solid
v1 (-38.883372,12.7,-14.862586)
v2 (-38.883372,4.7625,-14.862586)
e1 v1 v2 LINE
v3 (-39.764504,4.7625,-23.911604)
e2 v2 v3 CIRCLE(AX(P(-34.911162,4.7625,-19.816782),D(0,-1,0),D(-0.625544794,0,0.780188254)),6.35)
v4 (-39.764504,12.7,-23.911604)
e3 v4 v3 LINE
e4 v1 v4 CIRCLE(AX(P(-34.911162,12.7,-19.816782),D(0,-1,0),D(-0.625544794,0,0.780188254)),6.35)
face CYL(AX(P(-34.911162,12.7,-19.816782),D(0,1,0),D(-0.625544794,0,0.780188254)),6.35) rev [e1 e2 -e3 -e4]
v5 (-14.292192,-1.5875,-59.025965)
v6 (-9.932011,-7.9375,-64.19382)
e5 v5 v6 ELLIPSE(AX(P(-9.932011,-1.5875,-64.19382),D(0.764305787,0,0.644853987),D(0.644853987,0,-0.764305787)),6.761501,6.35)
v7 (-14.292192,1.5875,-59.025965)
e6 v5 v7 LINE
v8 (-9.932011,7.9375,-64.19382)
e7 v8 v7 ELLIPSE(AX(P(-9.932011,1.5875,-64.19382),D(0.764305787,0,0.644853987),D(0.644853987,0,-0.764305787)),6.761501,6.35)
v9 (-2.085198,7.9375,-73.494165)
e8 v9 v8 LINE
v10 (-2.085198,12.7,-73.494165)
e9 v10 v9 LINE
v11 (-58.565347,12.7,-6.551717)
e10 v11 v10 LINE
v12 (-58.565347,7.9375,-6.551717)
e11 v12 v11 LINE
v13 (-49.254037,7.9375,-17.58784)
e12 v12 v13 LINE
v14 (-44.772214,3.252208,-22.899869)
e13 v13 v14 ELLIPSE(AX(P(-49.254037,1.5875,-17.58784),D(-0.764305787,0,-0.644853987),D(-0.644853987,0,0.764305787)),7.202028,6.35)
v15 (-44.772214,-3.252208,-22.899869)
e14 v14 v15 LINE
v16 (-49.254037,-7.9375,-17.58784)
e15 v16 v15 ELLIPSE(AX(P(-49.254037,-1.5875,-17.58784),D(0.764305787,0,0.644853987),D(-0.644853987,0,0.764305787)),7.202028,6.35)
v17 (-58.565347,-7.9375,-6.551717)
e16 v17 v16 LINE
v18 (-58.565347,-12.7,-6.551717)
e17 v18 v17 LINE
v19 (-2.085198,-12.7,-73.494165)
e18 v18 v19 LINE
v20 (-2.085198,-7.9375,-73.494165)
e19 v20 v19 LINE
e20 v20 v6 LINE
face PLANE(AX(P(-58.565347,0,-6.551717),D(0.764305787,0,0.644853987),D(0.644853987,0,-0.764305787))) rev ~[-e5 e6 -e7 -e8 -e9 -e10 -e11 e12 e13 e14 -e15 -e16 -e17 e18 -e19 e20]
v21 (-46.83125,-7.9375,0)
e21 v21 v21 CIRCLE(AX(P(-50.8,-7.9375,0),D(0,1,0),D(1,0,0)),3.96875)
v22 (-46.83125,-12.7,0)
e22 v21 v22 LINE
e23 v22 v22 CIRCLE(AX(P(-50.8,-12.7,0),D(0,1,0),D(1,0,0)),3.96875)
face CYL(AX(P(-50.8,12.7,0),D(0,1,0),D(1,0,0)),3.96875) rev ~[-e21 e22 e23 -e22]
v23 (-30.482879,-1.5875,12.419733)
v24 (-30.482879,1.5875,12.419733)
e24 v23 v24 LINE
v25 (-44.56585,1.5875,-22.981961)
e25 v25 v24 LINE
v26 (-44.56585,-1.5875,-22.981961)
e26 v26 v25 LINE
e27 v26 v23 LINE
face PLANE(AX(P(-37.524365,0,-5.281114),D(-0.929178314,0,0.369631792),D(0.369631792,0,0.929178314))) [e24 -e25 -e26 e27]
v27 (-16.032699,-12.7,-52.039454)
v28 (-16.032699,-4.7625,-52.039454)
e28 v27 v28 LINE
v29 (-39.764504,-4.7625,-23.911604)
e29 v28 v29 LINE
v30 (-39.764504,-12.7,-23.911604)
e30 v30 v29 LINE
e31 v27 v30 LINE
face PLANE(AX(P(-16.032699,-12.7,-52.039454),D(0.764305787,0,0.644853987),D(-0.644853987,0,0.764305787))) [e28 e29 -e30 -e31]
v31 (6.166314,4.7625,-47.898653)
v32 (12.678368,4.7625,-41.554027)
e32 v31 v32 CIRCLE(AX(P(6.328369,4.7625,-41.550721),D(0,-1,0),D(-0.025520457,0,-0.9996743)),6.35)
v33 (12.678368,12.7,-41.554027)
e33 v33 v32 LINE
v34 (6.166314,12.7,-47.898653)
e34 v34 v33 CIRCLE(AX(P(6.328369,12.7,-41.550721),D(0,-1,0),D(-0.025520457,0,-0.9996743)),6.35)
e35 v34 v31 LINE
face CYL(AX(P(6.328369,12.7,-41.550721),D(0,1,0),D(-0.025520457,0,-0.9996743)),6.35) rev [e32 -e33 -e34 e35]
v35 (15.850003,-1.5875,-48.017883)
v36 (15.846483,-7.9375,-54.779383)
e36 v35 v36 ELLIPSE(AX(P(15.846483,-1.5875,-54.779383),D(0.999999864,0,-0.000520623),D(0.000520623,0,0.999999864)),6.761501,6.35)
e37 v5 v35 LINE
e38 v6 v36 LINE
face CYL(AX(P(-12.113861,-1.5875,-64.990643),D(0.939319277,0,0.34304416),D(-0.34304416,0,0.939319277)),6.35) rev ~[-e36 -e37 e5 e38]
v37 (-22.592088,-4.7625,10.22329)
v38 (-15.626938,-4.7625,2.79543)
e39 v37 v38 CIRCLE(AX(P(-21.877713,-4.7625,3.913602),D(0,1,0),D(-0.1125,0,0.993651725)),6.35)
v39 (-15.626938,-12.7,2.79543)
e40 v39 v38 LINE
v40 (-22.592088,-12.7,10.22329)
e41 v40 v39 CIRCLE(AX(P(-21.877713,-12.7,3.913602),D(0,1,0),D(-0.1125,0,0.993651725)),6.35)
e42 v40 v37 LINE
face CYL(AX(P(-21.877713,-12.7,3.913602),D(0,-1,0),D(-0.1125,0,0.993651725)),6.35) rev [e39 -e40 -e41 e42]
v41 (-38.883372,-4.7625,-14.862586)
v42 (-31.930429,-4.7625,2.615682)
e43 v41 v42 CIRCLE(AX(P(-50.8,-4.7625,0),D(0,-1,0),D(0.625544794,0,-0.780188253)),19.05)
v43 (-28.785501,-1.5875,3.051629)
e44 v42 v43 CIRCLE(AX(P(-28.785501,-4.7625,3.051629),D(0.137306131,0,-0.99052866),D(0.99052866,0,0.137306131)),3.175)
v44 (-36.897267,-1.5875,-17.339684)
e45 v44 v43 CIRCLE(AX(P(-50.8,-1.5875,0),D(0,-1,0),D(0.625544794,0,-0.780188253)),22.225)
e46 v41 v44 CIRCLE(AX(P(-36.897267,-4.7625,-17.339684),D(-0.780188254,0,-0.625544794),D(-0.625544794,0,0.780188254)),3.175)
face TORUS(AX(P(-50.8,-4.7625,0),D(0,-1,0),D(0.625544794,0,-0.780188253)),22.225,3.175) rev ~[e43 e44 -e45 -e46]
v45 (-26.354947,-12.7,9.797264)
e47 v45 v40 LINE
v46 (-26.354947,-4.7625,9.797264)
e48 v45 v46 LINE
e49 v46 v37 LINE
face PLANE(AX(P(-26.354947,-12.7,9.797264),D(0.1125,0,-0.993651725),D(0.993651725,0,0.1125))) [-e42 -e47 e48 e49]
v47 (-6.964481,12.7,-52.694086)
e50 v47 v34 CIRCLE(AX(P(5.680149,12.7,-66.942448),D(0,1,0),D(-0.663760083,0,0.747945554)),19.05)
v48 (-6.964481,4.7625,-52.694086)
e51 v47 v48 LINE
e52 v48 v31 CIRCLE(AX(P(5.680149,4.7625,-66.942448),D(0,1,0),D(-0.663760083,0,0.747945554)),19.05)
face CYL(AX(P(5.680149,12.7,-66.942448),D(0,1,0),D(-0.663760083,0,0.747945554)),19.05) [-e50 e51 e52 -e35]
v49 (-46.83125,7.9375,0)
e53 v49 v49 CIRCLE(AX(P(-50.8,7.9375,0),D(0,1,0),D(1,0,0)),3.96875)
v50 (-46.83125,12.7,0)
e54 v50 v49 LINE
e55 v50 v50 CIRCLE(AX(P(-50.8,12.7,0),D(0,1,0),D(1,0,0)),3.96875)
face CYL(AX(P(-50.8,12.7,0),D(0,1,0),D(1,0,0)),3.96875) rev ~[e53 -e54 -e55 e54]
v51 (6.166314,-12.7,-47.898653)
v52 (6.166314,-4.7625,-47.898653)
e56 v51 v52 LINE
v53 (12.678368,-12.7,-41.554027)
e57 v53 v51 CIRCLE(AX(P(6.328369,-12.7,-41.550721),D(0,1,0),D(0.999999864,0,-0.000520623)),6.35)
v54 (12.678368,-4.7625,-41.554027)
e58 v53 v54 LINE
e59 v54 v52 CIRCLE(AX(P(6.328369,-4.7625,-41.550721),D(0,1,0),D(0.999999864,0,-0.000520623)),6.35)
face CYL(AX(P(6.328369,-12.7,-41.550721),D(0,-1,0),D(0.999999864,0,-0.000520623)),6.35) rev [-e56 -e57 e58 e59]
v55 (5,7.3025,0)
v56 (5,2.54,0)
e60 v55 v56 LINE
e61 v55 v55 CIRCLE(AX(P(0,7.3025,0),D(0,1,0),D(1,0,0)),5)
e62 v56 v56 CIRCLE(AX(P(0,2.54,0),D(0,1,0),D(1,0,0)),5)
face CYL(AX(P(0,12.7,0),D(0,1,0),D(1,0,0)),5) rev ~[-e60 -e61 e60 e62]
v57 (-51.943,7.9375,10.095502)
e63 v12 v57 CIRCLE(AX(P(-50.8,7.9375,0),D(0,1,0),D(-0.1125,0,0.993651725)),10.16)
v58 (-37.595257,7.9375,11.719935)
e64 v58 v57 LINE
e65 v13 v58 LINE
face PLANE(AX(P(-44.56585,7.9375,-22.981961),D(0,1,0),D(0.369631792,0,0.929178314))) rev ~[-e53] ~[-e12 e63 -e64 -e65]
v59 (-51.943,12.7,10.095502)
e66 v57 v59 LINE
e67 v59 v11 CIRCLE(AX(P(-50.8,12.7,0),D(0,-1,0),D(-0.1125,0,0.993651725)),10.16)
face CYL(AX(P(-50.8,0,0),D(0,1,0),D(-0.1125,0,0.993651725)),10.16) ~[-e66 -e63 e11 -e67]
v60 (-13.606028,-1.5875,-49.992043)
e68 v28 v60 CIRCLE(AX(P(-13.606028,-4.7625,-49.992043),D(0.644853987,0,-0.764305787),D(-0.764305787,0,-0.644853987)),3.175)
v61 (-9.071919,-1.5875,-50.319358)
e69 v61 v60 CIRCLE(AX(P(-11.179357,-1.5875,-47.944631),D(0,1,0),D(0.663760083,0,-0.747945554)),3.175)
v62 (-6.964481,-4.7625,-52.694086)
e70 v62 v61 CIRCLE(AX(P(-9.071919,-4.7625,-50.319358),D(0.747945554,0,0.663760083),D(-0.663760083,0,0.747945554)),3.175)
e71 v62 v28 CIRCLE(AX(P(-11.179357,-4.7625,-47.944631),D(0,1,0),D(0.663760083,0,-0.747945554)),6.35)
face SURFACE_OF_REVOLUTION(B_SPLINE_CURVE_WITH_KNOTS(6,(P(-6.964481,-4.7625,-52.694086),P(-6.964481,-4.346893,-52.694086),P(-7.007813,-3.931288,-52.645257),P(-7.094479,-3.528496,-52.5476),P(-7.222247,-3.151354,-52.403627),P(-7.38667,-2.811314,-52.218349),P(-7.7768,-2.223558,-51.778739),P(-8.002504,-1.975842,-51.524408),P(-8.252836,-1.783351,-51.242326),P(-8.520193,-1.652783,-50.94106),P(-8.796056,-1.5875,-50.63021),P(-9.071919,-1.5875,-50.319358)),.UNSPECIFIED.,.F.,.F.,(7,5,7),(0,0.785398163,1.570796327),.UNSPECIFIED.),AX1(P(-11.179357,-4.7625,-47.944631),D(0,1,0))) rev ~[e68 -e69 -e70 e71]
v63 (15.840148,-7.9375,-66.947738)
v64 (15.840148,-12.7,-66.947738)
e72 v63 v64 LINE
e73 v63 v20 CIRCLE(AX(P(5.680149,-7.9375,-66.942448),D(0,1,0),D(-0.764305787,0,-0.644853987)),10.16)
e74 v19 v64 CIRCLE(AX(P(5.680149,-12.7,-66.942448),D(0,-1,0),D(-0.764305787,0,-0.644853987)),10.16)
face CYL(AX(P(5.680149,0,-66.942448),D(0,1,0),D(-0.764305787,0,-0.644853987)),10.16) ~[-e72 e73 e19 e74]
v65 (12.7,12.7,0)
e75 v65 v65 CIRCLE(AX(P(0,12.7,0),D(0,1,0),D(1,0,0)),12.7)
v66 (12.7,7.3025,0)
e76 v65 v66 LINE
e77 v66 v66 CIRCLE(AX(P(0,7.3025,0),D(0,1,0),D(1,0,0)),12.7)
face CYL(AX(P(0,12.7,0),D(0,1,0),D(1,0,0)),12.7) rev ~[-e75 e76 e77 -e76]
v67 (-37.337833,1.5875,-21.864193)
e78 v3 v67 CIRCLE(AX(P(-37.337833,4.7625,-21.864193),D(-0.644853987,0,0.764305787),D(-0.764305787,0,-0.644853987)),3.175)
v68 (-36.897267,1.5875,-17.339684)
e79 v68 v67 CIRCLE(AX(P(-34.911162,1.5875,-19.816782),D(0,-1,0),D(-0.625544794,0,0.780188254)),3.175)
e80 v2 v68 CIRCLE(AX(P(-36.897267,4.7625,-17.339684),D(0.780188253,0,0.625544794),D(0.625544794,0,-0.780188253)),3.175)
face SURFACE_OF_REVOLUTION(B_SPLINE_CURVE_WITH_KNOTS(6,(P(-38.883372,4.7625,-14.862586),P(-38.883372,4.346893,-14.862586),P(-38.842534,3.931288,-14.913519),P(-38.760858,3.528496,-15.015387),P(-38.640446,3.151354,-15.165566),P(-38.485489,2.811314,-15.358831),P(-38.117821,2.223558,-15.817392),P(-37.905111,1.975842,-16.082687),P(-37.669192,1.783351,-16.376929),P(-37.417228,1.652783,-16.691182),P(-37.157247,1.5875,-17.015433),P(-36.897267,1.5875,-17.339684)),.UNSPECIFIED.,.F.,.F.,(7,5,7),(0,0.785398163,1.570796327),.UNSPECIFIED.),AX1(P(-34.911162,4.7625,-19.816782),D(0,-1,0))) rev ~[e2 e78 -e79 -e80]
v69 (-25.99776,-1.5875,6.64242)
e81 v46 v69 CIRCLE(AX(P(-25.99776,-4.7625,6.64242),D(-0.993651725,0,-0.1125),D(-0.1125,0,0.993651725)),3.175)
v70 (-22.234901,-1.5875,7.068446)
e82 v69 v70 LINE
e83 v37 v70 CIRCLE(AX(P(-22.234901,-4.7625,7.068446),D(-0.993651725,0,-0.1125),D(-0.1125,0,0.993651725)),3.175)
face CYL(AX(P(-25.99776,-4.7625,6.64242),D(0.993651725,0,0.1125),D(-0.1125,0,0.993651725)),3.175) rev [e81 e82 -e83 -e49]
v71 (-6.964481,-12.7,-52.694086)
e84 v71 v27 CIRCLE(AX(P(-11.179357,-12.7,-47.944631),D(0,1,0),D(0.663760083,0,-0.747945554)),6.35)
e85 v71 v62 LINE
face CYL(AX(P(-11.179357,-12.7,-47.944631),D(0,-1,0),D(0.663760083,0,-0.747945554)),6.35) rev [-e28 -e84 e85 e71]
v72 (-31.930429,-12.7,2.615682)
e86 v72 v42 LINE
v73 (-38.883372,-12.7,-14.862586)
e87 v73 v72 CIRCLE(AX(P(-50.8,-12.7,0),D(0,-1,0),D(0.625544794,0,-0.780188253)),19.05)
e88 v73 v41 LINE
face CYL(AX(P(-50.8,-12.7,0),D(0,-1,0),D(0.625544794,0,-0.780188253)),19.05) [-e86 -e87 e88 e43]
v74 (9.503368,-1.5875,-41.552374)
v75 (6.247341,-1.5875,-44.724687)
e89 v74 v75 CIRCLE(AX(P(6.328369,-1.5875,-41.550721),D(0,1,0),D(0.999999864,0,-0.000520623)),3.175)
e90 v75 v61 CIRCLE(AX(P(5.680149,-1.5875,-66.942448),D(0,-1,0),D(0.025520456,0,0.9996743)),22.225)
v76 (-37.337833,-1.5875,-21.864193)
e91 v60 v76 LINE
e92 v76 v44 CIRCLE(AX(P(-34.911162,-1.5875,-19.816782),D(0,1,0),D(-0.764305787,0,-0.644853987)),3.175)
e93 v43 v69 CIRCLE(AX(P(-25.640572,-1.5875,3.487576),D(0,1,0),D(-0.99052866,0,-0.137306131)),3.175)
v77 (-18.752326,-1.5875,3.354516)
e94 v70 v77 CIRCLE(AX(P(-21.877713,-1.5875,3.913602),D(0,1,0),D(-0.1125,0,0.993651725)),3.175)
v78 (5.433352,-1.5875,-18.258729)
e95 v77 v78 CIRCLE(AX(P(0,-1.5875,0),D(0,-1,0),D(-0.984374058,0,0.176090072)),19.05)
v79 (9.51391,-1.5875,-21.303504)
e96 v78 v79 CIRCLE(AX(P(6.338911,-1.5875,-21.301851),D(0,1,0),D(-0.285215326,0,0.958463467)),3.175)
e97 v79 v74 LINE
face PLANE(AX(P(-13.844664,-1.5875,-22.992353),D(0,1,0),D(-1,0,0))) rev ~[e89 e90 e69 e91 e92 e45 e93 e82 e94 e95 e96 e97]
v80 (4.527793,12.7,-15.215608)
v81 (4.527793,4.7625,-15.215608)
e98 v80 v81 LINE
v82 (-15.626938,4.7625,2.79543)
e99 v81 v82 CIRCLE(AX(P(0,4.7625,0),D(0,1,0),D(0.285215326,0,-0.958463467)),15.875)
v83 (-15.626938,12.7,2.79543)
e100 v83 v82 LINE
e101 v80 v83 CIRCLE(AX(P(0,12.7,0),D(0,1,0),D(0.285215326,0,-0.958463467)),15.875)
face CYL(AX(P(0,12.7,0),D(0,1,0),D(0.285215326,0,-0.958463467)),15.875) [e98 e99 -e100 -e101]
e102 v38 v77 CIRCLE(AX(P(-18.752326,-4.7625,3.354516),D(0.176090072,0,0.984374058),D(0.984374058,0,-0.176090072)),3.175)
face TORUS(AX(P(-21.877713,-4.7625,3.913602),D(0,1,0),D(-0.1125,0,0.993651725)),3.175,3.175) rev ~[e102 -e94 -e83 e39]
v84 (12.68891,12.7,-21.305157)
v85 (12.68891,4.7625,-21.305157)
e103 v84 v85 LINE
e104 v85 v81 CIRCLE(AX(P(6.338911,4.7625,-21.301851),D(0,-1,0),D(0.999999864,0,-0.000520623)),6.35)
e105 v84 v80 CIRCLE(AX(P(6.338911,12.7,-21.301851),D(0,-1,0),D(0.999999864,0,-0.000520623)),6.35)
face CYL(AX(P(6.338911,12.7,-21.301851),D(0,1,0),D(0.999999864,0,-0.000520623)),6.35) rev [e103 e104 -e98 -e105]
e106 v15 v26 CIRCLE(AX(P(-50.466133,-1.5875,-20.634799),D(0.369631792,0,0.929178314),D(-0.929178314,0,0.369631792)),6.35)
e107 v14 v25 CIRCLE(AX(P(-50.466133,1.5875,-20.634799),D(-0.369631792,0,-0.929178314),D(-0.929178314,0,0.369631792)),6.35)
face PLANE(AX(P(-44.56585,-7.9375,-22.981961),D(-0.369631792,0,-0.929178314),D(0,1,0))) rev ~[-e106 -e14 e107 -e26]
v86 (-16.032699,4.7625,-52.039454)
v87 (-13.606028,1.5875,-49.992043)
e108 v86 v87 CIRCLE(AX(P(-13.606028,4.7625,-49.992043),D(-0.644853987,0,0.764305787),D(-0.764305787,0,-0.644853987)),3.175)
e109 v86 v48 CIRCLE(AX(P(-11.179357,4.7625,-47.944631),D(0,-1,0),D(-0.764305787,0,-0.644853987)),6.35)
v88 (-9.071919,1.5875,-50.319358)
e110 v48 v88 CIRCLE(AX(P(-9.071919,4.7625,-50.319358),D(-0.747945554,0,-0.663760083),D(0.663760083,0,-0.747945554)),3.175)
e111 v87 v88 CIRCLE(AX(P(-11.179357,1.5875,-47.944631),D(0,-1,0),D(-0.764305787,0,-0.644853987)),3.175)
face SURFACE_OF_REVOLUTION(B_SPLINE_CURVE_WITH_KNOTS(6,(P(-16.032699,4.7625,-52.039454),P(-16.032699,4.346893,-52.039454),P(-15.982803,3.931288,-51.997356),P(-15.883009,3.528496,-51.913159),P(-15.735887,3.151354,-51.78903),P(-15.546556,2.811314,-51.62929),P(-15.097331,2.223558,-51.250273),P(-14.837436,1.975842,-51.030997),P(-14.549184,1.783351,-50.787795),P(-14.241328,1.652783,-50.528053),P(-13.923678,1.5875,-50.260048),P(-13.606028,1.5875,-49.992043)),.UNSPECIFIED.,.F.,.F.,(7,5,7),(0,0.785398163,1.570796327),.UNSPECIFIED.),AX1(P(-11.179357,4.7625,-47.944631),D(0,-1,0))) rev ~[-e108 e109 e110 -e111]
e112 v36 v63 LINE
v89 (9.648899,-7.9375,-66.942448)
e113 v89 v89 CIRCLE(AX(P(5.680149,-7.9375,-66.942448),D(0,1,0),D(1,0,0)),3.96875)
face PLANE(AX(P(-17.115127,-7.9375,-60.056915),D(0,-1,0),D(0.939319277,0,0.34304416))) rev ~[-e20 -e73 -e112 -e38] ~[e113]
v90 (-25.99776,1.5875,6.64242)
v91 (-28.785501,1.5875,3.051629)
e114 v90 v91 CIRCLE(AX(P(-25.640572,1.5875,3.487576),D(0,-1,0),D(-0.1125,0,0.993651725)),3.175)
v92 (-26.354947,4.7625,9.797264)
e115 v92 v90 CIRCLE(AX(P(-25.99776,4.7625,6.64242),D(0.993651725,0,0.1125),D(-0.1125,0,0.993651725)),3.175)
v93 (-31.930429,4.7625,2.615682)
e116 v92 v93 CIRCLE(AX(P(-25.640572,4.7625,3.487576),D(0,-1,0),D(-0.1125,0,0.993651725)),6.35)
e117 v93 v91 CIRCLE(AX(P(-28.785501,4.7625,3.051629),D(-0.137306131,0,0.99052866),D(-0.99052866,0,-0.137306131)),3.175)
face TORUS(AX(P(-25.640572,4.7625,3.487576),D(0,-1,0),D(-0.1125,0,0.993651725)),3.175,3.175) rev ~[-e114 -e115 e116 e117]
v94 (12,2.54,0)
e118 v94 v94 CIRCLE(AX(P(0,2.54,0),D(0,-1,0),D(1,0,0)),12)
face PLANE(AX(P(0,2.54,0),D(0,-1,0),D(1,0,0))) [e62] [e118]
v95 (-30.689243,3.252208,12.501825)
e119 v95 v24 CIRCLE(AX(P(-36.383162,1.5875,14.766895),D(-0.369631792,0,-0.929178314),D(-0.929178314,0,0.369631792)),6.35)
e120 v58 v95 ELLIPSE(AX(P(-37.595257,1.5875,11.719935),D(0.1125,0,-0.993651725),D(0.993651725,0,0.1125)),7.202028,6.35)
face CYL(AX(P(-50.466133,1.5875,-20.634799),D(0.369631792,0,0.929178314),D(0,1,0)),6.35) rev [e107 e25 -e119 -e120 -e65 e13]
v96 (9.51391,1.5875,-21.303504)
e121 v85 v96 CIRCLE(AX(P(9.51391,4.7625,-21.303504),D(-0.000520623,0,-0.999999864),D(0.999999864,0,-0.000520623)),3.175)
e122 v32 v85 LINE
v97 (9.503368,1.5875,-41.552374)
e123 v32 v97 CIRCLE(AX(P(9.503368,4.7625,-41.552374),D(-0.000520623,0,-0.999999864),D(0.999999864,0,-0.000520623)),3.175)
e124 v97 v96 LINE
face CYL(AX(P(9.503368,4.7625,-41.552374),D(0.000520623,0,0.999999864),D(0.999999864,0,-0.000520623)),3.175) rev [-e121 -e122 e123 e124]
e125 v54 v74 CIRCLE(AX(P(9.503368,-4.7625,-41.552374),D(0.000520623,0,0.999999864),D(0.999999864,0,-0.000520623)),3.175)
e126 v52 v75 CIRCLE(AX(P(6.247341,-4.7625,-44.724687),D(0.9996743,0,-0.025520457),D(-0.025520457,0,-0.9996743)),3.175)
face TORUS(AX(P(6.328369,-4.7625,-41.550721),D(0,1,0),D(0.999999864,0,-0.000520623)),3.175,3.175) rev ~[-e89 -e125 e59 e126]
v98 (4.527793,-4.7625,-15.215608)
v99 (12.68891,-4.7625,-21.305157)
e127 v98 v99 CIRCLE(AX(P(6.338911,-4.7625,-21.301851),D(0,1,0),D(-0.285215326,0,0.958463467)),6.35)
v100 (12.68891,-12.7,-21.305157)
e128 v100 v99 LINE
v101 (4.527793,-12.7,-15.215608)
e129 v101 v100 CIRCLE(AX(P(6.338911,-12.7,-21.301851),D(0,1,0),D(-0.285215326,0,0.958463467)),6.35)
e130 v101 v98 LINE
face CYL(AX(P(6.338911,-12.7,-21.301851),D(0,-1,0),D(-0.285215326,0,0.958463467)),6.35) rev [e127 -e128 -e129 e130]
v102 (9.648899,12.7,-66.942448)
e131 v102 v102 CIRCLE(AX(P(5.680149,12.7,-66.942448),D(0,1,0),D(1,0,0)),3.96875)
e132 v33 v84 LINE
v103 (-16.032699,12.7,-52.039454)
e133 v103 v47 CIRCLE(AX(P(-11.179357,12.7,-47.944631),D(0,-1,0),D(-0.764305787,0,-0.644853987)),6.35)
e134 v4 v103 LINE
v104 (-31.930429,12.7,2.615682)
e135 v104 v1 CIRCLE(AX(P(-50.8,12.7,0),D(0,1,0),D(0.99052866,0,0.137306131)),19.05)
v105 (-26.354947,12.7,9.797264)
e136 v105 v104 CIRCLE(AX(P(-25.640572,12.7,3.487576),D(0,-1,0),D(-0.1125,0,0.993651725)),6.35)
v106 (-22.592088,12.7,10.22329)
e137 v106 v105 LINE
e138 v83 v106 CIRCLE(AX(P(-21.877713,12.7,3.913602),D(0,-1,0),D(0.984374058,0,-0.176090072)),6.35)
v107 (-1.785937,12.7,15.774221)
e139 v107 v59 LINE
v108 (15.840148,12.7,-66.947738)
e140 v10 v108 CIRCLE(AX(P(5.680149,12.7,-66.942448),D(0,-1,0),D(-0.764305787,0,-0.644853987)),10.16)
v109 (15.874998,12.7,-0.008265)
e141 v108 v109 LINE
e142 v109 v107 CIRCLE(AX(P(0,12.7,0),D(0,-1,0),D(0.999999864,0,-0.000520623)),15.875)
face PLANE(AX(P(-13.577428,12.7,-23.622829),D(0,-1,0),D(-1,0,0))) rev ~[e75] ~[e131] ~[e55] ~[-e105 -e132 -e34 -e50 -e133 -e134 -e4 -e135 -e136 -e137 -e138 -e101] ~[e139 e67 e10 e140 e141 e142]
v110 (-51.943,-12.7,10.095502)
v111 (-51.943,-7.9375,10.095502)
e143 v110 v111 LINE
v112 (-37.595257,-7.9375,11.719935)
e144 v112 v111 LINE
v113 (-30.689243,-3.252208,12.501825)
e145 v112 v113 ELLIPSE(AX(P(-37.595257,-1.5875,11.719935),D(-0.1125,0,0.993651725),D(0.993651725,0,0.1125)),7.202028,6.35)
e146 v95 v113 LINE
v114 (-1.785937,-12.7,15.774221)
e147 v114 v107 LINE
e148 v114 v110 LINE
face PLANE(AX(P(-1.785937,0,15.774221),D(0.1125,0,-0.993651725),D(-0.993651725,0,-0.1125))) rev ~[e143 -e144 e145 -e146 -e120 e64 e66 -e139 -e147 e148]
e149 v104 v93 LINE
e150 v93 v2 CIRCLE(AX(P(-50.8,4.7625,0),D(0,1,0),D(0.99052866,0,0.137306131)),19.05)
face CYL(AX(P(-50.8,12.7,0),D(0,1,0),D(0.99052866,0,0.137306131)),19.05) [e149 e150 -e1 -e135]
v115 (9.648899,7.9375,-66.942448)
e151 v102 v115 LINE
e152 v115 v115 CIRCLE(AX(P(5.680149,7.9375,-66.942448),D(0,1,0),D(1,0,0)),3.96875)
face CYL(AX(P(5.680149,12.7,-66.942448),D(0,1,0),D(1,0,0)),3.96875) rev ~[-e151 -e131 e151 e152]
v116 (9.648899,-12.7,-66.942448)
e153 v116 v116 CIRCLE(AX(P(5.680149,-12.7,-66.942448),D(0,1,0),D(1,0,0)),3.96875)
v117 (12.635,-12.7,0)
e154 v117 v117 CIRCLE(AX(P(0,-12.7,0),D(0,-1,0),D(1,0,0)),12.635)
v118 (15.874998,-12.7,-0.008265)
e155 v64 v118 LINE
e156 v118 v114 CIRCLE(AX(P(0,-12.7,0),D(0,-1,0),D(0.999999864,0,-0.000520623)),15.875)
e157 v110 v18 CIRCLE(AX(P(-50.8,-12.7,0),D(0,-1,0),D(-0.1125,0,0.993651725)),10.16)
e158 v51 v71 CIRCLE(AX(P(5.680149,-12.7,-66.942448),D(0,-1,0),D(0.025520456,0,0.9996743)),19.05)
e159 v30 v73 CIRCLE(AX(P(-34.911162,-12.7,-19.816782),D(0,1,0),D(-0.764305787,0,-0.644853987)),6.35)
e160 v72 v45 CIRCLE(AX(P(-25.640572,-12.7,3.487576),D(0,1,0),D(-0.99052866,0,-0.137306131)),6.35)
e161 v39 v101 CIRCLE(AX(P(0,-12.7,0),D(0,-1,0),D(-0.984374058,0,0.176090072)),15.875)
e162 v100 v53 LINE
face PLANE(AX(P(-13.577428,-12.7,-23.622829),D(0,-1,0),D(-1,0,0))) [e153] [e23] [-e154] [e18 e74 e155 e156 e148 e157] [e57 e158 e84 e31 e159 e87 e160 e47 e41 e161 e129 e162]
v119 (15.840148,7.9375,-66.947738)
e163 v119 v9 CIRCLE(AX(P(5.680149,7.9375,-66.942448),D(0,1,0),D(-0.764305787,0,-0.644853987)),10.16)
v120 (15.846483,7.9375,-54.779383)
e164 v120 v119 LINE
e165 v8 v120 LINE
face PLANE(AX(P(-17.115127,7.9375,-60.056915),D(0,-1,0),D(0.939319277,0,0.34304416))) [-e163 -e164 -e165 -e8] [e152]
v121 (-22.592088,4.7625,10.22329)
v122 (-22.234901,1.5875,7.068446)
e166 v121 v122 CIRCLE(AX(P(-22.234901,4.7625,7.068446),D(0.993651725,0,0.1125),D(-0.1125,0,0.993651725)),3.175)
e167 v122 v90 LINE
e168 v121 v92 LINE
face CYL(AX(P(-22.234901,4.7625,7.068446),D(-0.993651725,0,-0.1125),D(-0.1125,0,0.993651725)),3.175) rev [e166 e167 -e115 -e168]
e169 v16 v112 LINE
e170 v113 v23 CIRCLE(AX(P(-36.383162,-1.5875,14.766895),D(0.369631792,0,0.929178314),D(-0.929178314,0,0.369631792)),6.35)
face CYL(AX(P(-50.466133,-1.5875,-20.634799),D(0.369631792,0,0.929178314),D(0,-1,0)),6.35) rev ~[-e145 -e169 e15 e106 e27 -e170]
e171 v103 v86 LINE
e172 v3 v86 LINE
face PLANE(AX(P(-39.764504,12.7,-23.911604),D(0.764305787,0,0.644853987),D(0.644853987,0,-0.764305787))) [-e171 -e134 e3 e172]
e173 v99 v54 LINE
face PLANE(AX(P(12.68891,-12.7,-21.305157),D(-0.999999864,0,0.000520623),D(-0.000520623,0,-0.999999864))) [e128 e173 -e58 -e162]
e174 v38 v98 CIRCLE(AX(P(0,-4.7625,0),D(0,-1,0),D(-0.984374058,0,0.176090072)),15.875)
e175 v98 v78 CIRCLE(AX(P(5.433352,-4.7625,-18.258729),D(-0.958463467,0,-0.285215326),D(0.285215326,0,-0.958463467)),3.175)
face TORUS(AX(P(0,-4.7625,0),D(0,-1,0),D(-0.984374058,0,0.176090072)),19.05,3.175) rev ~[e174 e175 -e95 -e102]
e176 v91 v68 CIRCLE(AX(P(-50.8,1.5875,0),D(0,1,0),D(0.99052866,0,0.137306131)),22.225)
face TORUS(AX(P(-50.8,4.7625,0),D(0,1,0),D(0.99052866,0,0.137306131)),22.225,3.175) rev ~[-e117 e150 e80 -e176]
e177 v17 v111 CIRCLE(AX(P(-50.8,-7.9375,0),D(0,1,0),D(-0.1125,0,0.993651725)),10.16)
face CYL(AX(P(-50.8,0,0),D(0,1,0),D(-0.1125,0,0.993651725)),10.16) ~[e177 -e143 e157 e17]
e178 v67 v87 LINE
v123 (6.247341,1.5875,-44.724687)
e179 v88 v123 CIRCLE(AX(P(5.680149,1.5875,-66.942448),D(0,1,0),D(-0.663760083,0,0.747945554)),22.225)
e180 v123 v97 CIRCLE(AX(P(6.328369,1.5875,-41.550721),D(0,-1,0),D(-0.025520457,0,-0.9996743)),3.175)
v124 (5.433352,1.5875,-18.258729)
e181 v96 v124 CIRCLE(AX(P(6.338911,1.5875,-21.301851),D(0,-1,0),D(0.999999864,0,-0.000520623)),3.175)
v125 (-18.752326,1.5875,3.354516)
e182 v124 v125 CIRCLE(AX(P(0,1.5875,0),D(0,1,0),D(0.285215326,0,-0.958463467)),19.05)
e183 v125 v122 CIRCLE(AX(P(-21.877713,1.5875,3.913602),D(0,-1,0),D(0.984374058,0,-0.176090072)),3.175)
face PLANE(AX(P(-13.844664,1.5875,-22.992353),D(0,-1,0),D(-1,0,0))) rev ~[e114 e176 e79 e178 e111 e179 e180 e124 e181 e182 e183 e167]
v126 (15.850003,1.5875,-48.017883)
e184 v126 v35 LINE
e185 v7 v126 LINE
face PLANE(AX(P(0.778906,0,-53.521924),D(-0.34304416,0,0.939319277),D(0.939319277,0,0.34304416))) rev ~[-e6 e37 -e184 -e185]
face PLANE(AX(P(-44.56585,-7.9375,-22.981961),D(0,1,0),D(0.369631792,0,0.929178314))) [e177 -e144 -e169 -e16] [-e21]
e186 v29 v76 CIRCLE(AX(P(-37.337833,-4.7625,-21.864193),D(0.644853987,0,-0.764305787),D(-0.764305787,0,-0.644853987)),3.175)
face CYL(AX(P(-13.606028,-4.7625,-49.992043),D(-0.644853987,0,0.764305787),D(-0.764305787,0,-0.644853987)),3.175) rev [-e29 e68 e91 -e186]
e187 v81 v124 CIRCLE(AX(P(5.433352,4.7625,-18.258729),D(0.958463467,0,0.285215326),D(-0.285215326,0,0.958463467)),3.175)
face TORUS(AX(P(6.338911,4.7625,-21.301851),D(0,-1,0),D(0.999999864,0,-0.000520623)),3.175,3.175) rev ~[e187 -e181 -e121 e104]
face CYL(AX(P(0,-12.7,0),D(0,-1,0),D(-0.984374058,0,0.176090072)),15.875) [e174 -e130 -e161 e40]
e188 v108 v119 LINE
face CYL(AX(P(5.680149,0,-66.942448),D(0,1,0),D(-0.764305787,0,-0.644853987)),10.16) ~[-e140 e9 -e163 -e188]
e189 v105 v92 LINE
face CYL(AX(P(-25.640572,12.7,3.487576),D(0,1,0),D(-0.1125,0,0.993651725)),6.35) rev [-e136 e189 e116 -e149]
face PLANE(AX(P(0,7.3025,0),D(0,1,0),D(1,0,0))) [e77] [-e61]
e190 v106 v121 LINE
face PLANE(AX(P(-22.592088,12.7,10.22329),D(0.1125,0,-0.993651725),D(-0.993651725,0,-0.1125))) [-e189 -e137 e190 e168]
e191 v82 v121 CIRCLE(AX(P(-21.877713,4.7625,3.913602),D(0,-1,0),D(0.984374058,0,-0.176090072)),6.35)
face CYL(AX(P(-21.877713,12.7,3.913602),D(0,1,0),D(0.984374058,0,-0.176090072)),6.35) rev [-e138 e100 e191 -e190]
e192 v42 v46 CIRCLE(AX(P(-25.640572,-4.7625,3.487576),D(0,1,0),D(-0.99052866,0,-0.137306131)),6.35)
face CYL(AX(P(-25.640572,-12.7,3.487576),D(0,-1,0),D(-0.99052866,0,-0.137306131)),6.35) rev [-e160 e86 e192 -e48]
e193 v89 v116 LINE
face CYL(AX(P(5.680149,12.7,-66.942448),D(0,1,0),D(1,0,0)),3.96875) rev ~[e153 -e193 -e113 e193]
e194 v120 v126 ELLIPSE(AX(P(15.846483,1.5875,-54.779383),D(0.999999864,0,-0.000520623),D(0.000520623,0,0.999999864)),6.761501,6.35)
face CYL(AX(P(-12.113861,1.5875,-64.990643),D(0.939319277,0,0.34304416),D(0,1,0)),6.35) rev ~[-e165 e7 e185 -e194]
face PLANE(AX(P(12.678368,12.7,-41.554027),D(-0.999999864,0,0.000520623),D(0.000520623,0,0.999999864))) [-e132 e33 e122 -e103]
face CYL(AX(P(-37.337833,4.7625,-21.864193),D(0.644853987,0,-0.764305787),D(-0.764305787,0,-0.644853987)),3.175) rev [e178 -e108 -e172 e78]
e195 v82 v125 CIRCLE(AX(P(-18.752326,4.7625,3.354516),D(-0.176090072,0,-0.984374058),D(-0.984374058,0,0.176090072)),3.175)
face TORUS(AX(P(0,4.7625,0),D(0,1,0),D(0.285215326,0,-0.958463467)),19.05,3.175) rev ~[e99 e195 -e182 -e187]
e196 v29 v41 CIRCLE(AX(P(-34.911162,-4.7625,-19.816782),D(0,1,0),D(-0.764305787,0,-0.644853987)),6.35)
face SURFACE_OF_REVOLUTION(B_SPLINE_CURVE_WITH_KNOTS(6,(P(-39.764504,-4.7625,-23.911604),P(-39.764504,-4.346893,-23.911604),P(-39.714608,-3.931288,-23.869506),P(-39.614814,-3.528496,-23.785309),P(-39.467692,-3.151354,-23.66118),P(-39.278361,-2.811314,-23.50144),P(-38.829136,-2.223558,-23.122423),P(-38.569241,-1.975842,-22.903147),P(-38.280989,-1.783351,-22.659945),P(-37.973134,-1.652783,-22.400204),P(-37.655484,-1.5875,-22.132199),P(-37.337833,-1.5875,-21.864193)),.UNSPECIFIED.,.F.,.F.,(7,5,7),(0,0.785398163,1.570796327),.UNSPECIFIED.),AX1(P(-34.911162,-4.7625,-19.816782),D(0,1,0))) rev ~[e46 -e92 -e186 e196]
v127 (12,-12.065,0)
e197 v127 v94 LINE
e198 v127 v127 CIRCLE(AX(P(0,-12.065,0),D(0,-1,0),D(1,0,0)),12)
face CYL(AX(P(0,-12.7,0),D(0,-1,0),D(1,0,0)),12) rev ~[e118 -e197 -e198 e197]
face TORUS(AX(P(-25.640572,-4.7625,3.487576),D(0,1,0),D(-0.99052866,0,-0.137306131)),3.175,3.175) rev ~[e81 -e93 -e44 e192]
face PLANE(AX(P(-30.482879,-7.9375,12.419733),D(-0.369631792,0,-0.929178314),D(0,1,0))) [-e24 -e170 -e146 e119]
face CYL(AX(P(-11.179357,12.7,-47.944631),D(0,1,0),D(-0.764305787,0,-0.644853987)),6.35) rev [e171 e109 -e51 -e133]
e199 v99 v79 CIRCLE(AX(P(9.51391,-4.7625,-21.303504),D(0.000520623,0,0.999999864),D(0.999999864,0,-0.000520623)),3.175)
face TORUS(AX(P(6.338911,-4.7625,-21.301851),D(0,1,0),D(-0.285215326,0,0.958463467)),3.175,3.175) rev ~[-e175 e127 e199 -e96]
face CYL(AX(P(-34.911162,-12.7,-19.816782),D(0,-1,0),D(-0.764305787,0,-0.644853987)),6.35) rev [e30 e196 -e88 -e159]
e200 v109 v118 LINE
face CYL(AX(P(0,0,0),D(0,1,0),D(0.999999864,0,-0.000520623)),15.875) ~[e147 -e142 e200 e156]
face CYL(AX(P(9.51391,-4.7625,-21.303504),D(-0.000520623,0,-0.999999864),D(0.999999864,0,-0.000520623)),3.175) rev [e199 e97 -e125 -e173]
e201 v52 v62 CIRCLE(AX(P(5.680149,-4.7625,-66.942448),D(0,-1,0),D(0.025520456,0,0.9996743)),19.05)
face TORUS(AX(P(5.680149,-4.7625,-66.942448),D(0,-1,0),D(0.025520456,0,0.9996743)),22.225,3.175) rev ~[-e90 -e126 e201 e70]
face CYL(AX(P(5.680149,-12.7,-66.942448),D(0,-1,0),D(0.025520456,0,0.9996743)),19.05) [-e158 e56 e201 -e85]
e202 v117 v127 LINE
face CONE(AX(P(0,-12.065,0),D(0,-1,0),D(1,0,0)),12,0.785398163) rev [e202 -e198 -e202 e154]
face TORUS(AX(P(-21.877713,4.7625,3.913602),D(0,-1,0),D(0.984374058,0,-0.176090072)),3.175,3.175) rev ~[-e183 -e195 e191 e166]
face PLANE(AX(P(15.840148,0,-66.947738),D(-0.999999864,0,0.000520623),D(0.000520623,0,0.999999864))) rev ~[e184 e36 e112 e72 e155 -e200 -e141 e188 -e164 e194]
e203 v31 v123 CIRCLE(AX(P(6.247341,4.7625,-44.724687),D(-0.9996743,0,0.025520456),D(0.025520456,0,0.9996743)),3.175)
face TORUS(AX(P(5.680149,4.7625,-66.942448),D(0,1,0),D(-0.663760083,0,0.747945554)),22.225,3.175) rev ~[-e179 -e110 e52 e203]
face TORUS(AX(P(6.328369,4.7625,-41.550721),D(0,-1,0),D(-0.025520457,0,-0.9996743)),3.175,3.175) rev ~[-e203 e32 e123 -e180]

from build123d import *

# Parameters (mm, degrees)
BOSS_EXTRUDE2_DEPTH = 12.7
SKETCH3_R           = 12
CUT_EXTRUDE1_DEPTH  = 15.24
SKETCH5_R           = 3.96875
CUT_EXTRUDE3_DEPTH  = 26.4
SKETCH4_R           = 5
CUT_EXTRUDE2_DEPTH  = 26.4
CUT_EXTRUDE4_DEPTH  = 11.1125
CUT_EXTRUDE5_DEPTH  = 11.1125
SKETCH10_R          = 12.7
CUT_EXTRUDE6_DEPTH  = 5.3975
CUT_EXTRUDE7_REACH  = 29.328
SKETCH12_W          = 38.1
SKETCH12_H          = 15.875
CUT_EXTRUDE8_REACH  = 31.596
SKETCH15_W          = 38.1
SKETCH15_H          = 15.875
FILLET1_R           = 3.175
FILLET2_R           = 3.175
FILLET3_R           = 6.35
CHAMFER1_SIZE       = 0.635


with BuildPart() as part:
    # Sketch2 → Boss-Extrude2 (new body, symmetric)
    with BuildSketch(Plane(origin=(0, 0, 0), x_dir=(1, 0, 0), z_dir=(0, 1, 0))):
        with BuildLine():
            Line((-58.565346794, 6.551716506), (-2.085197783, 73.494164894))
            ThreePointArc((-2.085197783, 73.494164894), (9.165477674, 76.485932244), (15.840147634, 66.947737915))
            Line((15.840147634, 66.947737915), (15.874997849, 0.008264886))
            ThreePointArc((15.874997849, 0.008264886), (10.578143579, -11.83716619), (-1.7859375, -15.77422113))
            Line((-1.7859375, -15.77422113), (-51.943, -10.095501523))
            ThreePointArc((-51.943, -10.095501523), (-60.240451667, -3.755459003), (-58.565346794, 6.551716506))
        make_face()
    extrude(amount=BOSS_EXTRUDE2_DEPTH, both=True)

    # Sketch3 → Cut-Extrude1 (cut)
    with BuildSketch(Plane.XZ.offset(12.7)):
        Circle(SKETCH3_R)
    extrude(amount=-CUT_EXTRUDE1_DEPTH, mode=Mode.SUBTRACT)

    # Sketch5 → Cut-Extrude3 (cut, through all)
    with BuildSketch(Plane(origin=(0, 12.7, 0), x_dir=(1, 0, 0), z_dir=(0, 1, 0))):
        with Locations((-50.8, 0)):
            Circle(SKETCH5_R)
        with Locations((5.680149011, 66.942448388)):
            Circle(SKETCH5_R)
    extrude(amount=-CUT_EXTRUDE3_DEPTH, mode=Mode.SUBTRACT)

    # Sketch4 → Cut-Extrude2 (cut, through all)
    with BuildSketch(Plane(origin=(0, 12.7, 0), x_dir=(1, 0, 0), z_dir=(0, 1, 0))):
        Circle(SKETCH4_R)
    extrude(amount=-CUT_EXTRUDE2_DEPTH, mode=Mode.SUBTRACT)

    # Sketch6 → Cut-Extrude4 (cut)
    with BuildSketch(Plane(origin=(0, 12.7, 0), x_dir=(1, 0, 0), z_dir=(0, 1, 0))):
        with BuildLine():
            Line((-39.764503985, 23.911604457), (-16.032698846, 52.039454127))
            ThreePointArc((-16.032698846, 52.039454127), (-11.636571539, 54.278149682), (-6.964480572, 52.69408558))
            ThreePointArc((-6.964480572, 52.69408558), (-0.854842234, 49.048416159), (6.166313709, 47.898652971))
            ThreePointArc((6.166313709, 47.898652971), (10.759647518, 46.098936994), (12.678367748, 41.55402712))
            Line((12.678367748, 41.55402712), (12.688909771, 21.305156508))
            ThreePointArc((12.688909771, 21.305156508), (10.136411612, 16.212500271), (4.527793308, 15.215607538))
            ThreePointArc((4.527793308, 15.215607538), (-10.578143579, 11.83716619), (-15.626938173, -2.7954299))
            ThreePointArc((-15.626938173, -2.7954299), (-17.245628646, -8.257136186), (-22.592088443, -10.223290312))
            Line((-22.592088443, -10.223290312), (-26.354947036, -9.797264189))
            ThreePointArc((-26.354947036, -9.797264189), (-30.656406746, -7.381661273), (-31.930429027, -2.615681803))
            ThreePointArc((-31.930429027, -2.615681803), (-33.099153125, 7.041485631), (-38.883371679, 14.862586231))
            ThreePointArc((-38.883371679, 14.862586231), (-41.231270715, 19.201372144), (-39.764503985, 23.911604457))
        make_face()
    extrude(amount=-CUT_EXTRUDE4_DEPTH, mode=Mode.SUBTRACT)

    # Sketch8 → Cut-Extrude5 (cut)
    with BuildSketch(Plane.XZ.offset(12.7)):
        with BuildLine():
            Line((-26.354947036, 9.797264189), (-22.592088443, 10.223290312))
            ThreePointArc((-22.592088443, 10.223290312), (-17.245628646, 8.257136186), (-15.626938173, 2.7954299))
            ThreePointArc((-15.626938173, 2.7954299), (-10.578143579, -11.83716619), (4.527793308, -15.215607538))
            ThreePointArc((4.527793308, -15.215607538), (10.136411612, -16.212500271), (12.688909771, -21.305156508))
            Line((12.688909771, -21.305156508), (12.678367748, -41.55402712))
            ThreePointArc((12.678367748, -41.55402712), (10.759647518, -46.098936994), (6.166313709, -47.898652971))
            ThreePointArc((6.166313709, -47.898652971), (-0.854842234, -49.048416159), (-6.964480572, -52.69408558))
            ThreePointArc((-6.964480572, -52.69408558), (-11.636571539, -54.278149682), (-16.032698846, -52.039454127))
            Line((-16.032698846, -52.039454127), (-39.764503985, -23.911604457))
            ThreePointArc((-39.764503985, -23.911604457), (-41.231270715, -19.201372144), (-38.883371679, -14.862586231))
            ThreePointArc((-38.883371679, -14.862586231), (-33.099153125, -7.041485631), (-31.930429027, 2.615681803))
            ThreePointArc((-31.930429027, 2.615681803), (-30.656406746, 7.381661273), (-26.354947036, 9.797264189))
        make_face()
    extrude(amount=-CUT_EXTRUDE5_DEPTH, mode=Mode.SUBTRACT)

    # Sketch10 → Cut-Extrude6 (cut)
    with BuildSketch(Plane(origin=(0, 12.7, 0), x_dir=(1, 0, 0), z_dir=(0, 1, 0))):
        Circle(SKETCH10_R)
    extrude(amount=-CUT_EXTRUDE6_DEPTH, mode=Mode.SUBTRACT)

    # Sketch12 → Cut-Extrude7 (cut, up to next)
    with BuildSketch(Plane(origin=(17.337923239, 0, -47.474487057), x_dir=(0.939319277, 0, 0.34304416), z_dir=(-0.34304416, 0, 0.939319277)), mode=Mode.PRIVATE) as cut_extrude7_sk1:
        with Locations((-17.6287425, 0)):
            Rectangle(SKETCH12_W, SKETCH12_H)
    cut_extrude7_tool1 = extrude(cut_extrude7_sk1.sketch, amount=-CUT_EXTRUDE7_REACH, mode=Mode.PRIVATE) & part.part
    add(cut_extrude7_tool1.solids().sort_by_distance((0.778906, 0, -53.521924))[0], mode=Mode.SUBTRACT)

    # Sketch15 → Cut-Extrude8 (cut, up to next)
    with BuildSketch(Plane(origin=(-30.583679643, 0, 12.166341096), x_dir=(0.369631792, 0, 0.929178314), z_dir=(-0.929178314, 0, 0.369631792)), mode=Mode.PRIVATE) as cut_extrude8_sk1:
        with Locations((-18.777295017, 0)):
            Rectangle(SKETCH15_W, SKETCH15_H)
    cut_extrude8_tool1 = extrude(cut_extrude8_sk1.sketch, amount=CUT_EXTRUDE8_REACH, mode=Mode.PRIVATE) & part.part
    add(cut_extrude8_tool1.solids().sort_by_distance((-37.524365, 0, -5.281114))[0], mode=Mode.SUBTRACT)

    # Fillet1
    fillet1_edges = [part.edges().sort_by_distance(p)[0] for p in [
        (-30.656406746, 1.5875, 7.381661273),
        (-33.099153125, 1.5875, -7.041485631),
        (-41.231270715, 1.5875, -19.201372144),
        (-27.898601415, 1.5875, -37.975529292),
        (-11.636571539, 1.5875, -54.278149682),
        (-0.854842234, 1.5875, -49.048416159),
        (10.759647518, 1.5875, -46.098936994),
        (12.68363876, 1.5875, -31.429591814),
        (10.136411612, 1.5875, -16.212500271),
        (-10.578143579, 1.5875, -11.83716619),
        (-17.245628646, 1.5875, 8.257136186),
        (-24.473517739, 1.5875, 10.01027725),
    ]]
    fillet(fillet1_edges, radius=FILLET1_R)

    # Fillet2
    fillet2_edges = [part.edges().sort_by_distance(p)[0] for p in [
        (-17.245628646, -1.5875, 8.257136186),
        (-10.578143579, -1.5875, -11.83716619),
        (10.136411612, -1.5875, -16.212500271),
        (12.68363876, -1.5875, -31.429591814),
        (10.759647518, -1.5875, -46.098936994),
        (-0.854842234, -1.5875, -49.048416159),
        (-11.636571539, -1.5875, -54.278149682),
        (-27.898601415, -1.5875, -37.975529292),
        (-41.231270715, -1.5875, -19.201372144),
        (-33.099153125, -1.5875, -7.041485631),
        (-30.656406746, -1.5875, 7.381661273),
        (-24.473517739, -1.5875, 10.01027725),
    ]]
    fillet(fillet2_edges, radius=FILLET2_R)

    # Fillet3
    fillet3_edges = [part.edges().sort_by_distance(p)[0] for p in [
        (0.778905577, 7.9375, -53.521924216),
        (0.778905577, -7.9375, -53.521924216),
        (-37.524364844, 7.9375, -5.281114224),
        (-37.524364844, -7.9375, -5.281114224),
    ]]
    fillet(fillet3_edges, radius=FILLET3_R)

    # Chamfer1
    chamfer1_edges = [part.edges().sort_by_distance(p)[0] for p in [
        (-12, -12.7, 0),
    ]]
    chamfer(chamfer1_edges, length=CHAMFER1_SIZE)


solid = part.part
